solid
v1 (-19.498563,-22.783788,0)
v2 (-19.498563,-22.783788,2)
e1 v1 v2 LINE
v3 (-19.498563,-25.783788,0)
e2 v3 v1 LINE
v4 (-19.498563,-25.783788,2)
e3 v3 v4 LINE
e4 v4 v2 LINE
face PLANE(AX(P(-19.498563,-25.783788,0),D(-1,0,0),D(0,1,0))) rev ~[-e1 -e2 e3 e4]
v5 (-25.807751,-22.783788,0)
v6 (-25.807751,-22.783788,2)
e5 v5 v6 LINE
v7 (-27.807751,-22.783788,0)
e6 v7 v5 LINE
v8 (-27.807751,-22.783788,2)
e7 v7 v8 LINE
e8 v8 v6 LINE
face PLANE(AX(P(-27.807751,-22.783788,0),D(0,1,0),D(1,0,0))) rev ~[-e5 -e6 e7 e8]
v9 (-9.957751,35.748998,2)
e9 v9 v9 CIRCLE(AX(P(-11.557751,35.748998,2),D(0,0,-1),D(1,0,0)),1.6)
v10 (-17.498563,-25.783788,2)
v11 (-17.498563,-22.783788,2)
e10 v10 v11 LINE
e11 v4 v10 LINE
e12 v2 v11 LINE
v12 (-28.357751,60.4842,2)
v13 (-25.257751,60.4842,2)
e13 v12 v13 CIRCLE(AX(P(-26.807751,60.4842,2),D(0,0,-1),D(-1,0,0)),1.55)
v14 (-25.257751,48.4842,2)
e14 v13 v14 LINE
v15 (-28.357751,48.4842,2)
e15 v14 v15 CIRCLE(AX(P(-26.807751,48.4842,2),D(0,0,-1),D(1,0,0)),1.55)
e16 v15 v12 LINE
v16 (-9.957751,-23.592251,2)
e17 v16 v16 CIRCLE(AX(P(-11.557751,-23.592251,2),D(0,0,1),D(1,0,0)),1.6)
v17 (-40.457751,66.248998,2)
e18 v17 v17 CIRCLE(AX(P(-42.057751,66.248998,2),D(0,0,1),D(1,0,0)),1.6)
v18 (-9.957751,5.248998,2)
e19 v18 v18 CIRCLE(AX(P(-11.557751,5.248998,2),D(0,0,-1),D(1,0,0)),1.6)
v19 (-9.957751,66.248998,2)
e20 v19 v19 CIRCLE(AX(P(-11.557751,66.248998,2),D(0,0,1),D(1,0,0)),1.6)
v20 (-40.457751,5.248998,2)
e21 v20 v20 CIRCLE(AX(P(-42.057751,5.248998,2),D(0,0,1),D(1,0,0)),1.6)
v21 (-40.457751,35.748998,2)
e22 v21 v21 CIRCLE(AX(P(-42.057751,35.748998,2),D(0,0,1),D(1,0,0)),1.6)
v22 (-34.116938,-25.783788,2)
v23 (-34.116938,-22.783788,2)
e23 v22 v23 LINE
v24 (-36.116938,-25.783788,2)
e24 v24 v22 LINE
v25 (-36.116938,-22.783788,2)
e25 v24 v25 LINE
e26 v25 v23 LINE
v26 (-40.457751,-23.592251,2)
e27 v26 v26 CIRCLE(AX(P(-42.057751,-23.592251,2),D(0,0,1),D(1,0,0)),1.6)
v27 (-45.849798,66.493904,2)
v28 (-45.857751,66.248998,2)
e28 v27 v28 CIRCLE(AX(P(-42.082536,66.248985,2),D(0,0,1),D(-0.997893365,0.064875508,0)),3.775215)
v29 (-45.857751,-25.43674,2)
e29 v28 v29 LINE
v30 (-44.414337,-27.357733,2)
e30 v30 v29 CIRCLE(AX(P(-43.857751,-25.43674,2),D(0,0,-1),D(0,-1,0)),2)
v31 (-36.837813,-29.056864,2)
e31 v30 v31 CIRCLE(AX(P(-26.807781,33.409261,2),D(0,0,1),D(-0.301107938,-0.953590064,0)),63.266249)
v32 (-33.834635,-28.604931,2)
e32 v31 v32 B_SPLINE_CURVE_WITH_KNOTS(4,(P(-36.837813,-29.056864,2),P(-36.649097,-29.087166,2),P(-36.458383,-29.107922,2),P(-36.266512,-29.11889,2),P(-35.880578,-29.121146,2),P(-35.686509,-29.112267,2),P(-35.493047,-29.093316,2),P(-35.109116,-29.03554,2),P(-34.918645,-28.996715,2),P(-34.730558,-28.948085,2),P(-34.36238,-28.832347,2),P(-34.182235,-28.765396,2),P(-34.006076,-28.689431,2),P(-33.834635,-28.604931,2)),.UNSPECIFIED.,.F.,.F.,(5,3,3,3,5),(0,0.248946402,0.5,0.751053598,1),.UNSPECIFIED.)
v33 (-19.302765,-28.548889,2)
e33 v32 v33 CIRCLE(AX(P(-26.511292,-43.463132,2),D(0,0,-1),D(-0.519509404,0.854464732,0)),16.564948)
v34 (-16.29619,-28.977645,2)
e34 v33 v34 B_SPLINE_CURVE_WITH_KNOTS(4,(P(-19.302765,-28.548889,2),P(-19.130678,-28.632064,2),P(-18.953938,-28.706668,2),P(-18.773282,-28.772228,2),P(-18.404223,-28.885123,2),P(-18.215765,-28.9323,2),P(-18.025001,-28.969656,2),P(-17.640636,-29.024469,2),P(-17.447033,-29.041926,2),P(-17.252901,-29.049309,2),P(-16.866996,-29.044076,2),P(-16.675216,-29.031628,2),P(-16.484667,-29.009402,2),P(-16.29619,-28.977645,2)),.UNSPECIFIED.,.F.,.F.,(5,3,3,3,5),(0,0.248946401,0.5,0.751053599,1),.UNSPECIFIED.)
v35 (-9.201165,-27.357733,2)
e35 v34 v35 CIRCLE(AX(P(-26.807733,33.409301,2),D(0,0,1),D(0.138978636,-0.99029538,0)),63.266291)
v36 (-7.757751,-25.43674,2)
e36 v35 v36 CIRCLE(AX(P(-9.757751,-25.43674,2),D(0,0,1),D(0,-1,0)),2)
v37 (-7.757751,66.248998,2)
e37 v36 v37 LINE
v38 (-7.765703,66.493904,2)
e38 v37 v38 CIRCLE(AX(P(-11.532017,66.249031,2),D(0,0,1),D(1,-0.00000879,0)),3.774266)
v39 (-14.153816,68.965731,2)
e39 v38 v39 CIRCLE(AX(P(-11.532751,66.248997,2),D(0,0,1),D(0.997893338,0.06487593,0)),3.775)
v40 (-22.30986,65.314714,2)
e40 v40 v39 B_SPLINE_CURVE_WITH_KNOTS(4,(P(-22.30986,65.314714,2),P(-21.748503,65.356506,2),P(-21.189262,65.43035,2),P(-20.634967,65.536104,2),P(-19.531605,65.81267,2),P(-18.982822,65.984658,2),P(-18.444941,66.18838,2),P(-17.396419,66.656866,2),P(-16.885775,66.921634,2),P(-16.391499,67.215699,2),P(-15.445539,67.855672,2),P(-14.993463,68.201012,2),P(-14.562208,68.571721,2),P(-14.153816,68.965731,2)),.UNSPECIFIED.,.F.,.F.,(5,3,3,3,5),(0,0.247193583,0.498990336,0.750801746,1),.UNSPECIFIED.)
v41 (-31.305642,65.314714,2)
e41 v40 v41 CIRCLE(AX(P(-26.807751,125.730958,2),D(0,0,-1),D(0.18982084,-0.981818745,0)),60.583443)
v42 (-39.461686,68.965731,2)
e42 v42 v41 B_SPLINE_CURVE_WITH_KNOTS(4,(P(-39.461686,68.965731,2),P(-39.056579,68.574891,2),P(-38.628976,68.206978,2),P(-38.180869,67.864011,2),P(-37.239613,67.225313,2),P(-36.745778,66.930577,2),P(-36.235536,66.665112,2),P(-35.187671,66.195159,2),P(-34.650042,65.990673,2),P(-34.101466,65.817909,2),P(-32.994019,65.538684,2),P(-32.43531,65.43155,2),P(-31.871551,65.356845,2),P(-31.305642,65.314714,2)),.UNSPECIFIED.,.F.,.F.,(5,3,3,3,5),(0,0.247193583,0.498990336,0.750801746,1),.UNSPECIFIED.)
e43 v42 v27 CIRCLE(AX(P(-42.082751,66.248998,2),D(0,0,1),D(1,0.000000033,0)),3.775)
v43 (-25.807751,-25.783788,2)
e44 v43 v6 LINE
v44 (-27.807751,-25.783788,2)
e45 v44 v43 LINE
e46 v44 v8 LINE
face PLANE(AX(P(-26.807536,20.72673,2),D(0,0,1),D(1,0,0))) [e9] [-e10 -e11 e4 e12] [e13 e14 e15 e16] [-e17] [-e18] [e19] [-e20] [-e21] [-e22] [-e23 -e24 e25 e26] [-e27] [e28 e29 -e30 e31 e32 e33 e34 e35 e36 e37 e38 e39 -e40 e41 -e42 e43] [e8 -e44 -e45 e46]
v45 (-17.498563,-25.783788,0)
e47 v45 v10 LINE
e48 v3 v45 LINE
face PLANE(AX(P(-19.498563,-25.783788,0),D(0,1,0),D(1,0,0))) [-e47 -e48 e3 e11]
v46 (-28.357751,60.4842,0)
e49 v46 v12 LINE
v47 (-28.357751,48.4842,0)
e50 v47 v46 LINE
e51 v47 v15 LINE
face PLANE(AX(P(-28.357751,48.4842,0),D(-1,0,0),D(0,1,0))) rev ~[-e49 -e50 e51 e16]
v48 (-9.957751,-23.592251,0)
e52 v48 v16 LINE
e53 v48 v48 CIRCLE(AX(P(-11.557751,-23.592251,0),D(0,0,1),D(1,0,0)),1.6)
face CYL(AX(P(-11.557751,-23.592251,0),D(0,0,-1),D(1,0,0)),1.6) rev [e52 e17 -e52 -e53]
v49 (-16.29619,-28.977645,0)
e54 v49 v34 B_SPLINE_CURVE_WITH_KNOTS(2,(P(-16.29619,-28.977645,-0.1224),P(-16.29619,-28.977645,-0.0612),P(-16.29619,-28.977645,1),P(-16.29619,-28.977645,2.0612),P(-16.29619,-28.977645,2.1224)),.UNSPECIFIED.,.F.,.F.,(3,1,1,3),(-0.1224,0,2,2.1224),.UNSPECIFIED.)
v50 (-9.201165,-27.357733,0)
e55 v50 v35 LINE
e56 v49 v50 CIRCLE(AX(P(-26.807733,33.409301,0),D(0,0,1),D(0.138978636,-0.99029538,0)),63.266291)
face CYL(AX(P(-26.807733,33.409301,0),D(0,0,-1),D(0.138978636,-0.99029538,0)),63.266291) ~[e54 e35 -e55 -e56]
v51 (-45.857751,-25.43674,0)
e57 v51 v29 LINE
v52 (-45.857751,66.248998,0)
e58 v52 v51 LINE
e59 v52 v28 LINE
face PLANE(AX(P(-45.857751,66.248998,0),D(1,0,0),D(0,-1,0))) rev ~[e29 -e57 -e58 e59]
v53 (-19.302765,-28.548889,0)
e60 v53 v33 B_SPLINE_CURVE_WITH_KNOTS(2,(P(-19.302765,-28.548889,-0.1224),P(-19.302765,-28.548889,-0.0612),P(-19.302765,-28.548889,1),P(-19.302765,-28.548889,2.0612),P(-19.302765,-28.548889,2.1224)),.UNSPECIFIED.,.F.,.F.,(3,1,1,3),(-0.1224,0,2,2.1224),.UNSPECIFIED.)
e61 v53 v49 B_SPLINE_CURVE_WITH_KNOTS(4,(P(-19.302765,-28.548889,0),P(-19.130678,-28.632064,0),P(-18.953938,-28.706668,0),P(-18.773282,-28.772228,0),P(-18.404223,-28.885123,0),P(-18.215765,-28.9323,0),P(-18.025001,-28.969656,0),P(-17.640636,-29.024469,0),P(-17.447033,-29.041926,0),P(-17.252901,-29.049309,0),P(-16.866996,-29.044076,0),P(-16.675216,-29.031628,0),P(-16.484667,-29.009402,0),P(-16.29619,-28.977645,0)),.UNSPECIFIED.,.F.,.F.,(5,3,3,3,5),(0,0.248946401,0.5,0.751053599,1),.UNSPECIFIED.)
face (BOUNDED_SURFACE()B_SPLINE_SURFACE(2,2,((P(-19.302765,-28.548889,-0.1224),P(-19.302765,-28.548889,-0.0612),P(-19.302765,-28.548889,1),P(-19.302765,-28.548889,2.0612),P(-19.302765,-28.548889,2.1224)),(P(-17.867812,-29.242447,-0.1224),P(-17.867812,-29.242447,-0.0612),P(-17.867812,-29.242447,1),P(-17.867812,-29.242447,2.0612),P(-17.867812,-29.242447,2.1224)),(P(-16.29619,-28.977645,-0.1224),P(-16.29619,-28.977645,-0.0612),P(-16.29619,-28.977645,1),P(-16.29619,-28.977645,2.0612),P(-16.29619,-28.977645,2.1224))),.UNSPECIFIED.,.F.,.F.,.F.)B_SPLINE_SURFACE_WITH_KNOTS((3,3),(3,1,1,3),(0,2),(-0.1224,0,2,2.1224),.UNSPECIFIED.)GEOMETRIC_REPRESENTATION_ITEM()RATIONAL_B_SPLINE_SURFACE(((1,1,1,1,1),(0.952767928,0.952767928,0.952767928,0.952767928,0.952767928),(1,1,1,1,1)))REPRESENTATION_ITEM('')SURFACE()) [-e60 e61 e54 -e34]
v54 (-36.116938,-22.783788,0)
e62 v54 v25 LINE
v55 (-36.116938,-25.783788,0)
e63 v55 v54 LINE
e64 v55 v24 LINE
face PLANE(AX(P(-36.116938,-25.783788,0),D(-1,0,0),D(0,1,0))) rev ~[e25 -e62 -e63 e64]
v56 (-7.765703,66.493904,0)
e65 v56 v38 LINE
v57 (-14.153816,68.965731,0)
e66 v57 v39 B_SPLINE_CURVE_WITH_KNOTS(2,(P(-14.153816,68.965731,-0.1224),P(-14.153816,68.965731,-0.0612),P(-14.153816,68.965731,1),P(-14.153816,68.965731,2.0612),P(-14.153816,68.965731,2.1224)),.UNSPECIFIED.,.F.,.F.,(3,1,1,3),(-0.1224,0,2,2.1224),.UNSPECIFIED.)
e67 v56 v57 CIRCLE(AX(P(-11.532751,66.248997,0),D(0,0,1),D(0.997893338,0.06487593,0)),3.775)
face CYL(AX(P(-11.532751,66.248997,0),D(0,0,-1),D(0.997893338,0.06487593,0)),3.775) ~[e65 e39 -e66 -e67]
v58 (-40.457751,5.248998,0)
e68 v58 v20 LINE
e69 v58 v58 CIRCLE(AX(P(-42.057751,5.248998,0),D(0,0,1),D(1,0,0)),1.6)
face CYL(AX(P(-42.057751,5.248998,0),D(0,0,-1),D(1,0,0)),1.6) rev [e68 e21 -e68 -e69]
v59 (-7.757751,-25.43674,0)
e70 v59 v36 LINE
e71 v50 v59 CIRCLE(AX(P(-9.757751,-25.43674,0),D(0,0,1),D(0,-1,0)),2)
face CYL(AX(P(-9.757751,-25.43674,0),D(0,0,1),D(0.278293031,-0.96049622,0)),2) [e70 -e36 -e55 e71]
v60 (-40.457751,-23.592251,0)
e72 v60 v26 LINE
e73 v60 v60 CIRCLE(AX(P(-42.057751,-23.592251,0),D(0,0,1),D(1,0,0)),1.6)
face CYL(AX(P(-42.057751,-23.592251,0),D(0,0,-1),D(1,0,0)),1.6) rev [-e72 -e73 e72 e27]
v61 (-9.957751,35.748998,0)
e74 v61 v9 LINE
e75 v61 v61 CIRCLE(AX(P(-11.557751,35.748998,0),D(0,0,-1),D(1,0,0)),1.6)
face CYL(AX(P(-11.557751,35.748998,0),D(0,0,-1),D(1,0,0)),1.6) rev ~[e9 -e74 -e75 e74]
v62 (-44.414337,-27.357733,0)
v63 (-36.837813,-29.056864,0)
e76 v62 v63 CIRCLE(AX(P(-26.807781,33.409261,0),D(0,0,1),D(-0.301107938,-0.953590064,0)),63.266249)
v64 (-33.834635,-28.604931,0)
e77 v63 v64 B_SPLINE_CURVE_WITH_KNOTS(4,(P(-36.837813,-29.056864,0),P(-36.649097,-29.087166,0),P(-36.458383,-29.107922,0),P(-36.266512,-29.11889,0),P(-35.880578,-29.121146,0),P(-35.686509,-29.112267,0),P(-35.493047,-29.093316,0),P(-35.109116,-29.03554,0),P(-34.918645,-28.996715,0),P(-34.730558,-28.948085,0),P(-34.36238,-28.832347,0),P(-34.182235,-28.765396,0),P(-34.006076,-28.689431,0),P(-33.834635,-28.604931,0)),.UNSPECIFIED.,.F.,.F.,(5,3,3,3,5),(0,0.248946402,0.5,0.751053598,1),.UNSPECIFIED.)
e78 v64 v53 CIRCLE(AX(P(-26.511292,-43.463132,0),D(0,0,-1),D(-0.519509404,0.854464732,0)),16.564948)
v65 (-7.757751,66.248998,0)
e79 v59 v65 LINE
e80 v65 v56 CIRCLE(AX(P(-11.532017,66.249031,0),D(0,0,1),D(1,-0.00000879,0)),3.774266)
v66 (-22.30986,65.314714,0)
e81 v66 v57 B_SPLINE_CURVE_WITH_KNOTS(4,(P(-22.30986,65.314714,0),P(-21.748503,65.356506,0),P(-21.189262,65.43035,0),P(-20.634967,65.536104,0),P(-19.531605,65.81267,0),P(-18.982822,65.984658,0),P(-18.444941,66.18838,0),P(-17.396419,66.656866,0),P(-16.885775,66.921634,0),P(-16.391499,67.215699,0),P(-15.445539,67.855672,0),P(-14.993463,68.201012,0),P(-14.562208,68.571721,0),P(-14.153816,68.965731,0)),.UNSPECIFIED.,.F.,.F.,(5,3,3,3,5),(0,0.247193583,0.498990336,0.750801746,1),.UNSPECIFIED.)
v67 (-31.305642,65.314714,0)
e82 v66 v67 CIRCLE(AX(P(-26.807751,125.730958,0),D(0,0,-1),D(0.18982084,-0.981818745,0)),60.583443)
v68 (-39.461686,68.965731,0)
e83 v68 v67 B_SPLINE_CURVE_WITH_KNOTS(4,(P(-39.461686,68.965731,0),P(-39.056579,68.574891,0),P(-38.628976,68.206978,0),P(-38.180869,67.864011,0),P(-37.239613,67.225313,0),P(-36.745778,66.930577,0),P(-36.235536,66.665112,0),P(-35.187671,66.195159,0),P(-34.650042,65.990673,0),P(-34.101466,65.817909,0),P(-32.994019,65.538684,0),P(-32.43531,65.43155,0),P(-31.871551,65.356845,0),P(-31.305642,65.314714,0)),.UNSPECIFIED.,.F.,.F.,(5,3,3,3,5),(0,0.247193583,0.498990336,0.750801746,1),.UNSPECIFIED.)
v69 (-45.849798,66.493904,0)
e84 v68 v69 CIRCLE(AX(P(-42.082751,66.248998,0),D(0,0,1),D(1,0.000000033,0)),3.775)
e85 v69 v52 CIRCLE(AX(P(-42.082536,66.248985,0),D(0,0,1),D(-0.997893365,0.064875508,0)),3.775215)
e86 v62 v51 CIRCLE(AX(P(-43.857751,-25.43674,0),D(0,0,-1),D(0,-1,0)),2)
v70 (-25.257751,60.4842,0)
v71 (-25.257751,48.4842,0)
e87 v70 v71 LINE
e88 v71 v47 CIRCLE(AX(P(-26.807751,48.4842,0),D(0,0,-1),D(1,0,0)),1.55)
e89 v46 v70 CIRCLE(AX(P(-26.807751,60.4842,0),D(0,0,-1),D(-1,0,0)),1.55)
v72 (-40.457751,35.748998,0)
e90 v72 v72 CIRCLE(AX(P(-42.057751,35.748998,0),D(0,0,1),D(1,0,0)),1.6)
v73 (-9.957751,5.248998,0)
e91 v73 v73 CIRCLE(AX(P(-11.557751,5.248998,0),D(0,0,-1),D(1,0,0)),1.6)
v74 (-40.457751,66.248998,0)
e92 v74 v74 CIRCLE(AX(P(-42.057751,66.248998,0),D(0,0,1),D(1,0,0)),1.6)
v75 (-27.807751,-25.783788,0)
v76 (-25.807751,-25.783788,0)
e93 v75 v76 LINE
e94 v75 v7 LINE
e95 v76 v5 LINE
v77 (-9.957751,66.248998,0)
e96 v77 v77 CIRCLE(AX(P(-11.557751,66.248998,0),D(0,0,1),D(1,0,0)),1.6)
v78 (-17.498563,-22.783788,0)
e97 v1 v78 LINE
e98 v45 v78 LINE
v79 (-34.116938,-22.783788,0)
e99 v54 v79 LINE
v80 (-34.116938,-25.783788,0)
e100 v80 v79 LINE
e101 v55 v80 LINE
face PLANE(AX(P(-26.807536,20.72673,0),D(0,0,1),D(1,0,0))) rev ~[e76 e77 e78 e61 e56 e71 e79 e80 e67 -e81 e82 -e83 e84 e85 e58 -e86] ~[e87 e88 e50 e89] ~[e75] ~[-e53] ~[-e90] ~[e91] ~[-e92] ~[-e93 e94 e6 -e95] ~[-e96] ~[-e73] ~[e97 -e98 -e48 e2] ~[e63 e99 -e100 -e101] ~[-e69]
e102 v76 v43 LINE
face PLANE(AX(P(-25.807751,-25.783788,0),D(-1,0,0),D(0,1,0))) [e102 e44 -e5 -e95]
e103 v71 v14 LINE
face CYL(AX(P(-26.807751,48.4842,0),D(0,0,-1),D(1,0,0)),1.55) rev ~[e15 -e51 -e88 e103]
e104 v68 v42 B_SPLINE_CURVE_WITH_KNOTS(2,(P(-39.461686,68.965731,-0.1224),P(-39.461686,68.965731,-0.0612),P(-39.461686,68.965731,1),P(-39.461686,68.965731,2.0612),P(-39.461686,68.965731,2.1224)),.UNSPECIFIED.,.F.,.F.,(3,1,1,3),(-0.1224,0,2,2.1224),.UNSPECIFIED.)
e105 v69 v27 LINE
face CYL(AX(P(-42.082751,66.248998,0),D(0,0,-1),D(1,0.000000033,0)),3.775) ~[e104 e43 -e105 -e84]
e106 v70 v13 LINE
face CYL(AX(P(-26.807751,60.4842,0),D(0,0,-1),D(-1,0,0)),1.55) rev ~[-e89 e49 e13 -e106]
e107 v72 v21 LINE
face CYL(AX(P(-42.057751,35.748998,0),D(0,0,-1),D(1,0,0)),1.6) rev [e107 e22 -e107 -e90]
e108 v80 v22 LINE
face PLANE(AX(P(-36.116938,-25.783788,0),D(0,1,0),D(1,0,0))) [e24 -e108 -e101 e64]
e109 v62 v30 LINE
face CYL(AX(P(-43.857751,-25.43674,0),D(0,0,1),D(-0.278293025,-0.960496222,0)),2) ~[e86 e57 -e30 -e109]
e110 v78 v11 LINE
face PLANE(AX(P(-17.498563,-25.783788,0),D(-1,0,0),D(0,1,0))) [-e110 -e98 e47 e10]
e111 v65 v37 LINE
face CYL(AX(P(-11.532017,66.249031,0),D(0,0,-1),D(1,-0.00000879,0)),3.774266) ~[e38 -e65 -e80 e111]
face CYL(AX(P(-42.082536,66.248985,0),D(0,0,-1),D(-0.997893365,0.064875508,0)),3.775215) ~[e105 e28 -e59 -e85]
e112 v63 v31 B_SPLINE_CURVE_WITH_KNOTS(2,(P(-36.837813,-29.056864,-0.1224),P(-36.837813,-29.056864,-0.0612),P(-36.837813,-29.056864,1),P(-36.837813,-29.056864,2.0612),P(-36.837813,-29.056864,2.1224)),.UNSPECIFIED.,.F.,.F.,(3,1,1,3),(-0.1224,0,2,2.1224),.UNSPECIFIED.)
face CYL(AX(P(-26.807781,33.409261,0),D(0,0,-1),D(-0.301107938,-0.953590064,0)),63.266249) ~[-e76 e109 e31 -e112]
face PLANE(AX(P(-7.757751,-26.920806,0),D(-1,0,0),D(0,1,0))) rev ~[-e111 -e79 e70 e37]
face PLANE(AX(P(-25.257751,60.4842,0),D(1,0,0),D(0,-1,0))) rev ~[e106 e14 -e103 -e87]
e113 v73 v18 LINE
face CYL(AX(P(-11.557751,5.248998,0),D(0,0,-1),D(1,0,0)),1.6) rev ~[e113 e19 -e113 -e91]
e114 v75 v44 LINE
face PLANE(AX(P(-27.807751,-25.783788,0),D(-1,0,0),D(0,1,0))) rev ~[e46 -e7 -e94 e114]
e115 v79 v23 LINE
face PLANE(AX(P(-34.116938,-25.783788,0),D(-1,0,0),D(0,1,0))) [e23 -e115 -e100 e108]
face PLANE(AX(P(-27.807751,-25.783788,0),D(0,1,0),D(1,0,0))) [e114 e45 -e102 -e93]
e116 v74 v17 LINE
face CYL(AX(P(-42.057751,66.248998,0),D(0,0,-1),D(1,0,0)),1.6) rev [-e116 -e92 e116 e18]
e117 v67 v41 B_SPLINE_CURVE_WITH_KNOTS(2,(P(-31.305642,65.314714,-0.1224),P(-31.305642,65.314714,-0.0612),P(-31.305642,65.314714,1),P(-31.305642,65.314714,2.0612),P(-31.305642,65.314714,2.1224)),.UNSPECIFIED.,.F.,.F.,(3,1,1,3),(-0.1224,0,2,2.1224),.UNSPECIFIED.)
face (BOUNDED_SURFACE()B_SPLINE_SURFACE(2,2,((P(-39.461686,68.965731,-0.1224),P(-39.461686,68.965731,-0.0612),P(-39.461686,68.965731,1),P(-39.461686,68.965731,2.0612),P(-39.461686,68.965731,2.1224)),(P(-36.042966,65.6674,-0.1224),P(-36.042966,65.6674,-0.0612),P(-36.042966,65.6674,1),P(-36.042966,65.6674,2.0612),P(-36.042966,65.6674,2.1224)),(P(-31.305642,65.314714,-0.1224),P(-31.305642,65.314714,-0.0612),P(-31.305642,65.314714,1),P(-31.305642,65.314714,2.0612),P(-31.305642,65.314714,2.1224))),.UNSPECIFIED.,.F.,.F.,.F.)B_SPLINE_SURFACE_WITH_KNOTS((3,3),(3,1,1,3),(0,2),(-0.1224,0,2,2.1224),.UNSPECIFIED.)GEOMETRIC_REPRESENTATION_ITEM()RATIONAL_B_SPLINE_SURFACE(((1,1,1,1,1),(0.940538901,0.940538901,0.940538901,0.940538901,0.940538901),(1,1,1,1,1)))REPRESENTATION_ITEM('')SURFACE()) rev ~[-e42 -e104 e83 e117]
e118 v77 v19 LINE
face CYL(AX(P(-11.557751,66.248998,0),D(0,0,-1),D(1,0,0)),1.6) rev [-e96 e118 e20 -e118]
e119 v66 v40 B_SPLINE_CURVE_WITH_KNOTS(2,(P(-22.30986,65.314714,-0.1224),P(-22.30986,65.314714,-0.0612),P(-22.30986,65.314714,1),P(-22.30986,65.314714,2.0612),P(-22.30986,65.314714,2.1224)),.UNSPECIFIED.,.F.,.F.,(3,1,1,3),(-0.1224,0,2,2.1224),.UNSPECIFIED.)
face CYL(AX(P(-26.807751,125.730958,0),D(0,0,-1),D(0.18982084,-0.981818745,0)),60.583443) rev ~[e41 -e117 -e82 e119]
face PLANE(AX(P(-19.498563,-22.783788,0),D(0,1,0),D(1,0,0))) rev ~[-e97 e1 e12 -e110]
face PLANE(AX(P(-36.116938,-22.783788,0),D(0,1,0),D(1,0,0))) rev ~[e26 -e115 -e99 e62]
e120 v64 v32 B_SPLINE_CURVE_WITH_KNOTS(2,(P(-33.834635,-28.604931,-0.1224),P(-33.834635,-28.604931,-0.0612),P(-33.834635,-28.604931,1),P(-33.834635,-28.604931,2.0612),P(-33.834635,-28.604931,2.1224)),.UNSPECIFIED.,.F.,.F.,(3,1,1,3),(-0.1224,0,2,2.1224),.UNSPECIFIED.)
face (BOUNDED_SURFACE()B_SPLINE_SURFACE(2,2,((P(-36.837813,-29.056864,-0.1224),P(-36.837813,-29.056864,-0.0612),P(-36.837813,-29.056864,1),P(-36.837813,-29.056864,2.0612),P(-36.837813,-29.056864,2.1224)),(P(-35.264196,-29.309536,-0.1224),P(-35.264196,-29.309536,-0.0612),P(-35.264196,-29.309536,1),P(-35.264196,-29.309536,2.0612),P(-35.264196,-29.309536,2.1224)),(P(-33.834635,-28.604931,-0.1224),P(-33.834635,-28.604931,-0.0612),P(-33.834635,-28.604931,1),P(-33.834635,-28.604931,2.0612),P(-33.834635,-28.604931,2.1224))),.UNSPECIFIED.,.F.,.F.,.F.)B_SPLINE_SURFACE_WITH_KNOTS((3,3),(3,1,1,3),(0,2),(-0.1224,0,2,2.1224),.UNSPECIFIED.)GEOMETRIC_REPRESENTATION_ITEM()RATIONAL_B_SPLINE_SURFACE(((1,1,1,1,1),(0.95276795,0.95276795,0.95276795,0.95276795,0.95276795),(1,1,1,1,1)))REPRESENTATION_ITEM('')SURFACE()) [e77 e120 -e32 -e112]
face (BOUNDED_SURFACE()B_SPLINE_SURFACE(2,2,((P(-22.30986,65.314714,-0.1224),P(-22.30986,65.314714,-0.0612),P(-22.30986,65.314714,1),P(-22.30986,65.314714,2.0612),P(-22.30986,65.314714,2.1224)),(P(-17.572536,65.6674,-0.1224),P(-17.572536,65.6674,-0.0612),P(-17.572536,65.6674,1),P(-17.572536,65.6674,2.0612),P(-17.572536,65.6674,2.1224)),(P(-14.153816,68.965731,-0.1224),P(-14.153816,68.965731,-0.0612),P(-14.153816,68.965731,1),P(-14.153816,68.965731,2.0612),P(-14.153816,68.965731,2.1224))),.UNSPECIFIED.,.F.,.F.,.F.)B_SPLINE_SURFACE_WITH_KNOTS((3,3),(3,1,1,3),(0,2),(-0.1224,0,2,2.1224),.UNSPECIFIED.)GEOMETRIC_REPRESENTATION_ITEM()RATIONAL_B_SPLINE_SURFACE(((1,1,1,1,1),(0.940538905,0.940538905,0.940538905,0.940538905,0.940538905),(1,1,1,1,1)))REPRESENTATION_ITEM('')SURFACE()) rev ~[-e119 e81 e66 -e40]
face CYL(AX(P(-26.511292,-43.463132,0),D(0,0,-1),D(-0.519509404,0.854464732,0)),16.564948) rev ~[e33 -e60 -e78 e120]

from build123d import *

# Parameters (mm, degrees)
F0_R     = 1.6
F0_W     = 2
F0_H     = 3
F1_DEPTH = 2
F2_R     = 5
F3_R     = 2
F4_R     = 13.153232


with BuildPart() as f1:
    # F0 (on Top) → F1 (new body)
    with BuildSketch(Plane.XY):
        with Locations((-42.057751, 35.748998)):
            Circle(F0_R)
        with BuildLine():
            ThreePointArc((-13.157751, 35.748998), (-11.557751, 34.148998), (-9.957751, 35.748998))
            ThreePointArc((-9.957751, 35.748998), (-11.557751, 37.348998), (-13.157751, 35.748998))
        make_face()
        with Locations((-42.057751, 5.248998)):
            Circle(F0_R)
        with BuildLine():
            ThreePointArc((-13.157751, 5.248998), (-11.557751, 3.648998), (-9.957751, 5.248998))
            ThreePointArc((-9.957751, 5.248998), (-11.557751, 6.848998), (-13.157751, 5.248998))
        make_face()
        with BuildLine():
            ThreePointArc((-45.849798, 66.493904), (-45.855762, 66.371516), (-45.857751, 66.248998))
            Line((-45.857751, 66.248998), (-45.857751, 60.434222))
            Line((-45.857751, 60.434222), (-45.857751, 35.748998))
            Line((-45.857751, 35.748998), (-45.857751, 33.160256))
            Line((-45.857751, 33.160256), (-45.857751, 5.248998))
            Line((-45.857751, 5.248998), (-45.857751, -19.436226))
            Line((-45.857751, -19.436226), (-45.857751, -25.251002))
            Line((-45.857751, -25.251002), (-45.857751, -26.920806))
            ThreePointArc((-45.857751, -26.920806), (-40.539361, -28.348832), (-35.116938, -29.308968))
            ThreePointArc((-35.116938, -29.308968), (-26.575174, -26.898307), (-18.01507, -29.243015))
            ThreePointArc((-18.01507, -29.243015), (-12.838073, -28.295417), (-7.757751, -26.920806))
            Line((-7.757751, -26.920806), (-7.757751, -25.251002))
            Line((-7.757751, -25.251002), (-7.757751, -19.436226))
            Line((-7.757751, -19.436226), (-7.757751, 5.248998))
            Line((-7.757751, 5.248998), (-7.757751, 35.748998))
            Line((-7.757751, 35.748998), (-7.757751, 60.434222))
            Line((-7.757751, 60.434222), (-7.757751, 66.248998))
            ThreePointArc((-7.757751, 66.248998), (-7.759739, 66.371516), (-7.765703, 66.493904))
            ThreePointArc((-7.765703, 66.493904), (-11.655268, 70.022009), (-15.307751, 66.248998))
            ThreePointArc((-15.307751, 66.248998), (-26.807751, 65.147515), (-38.307751, 66.248998))
            ThreePointArc((-38.307751, 66.248998), (-41.960233, 70.022009), (-45.849798, 66.493904))
        make_face()
        with Locations((-42.057751, -23.592251)):
            Circle(F0_R, mode=Mode.SUBTRACT)
        with Locations((-35.116938, -24.283788)):
            Rectangle(F0_W, F0_H, mode=Mode.SUBTRACT)
        with Locations((-26.807751, -24.283788)):
            Rectangle(F0_W, F0_H, mode=Mode.SUBTRACT)
        with Locations((-42.057751, 5.248998)):
            Circle(F0_R, mode=Mode.SUBTRACT)
        with Locations((-18.498563, -24.283788)):
            Rectangle(F0_W, F0_H, mode=Mode.SUBTRACT)
        with Locations((-11.557751, -23.592251)):
            Circle(F0_R, mode=Mode.SUBTRACT)
        with BuildLine():
            ThreePointArc((-13.157751, 5.248998), (-11.557751, 6.848998), (-9.957751, 5.248998))
            ThreePointArc((-9.957751, 5.248998), (-11.557751, 3.648998), (-13.157751, 5.248998))
        make_face(mode=Mode.SUBTRACT)
        with Locations((-42.057751, 35.748998)):
            Circle(F0_R, mode=Mode.SUBTRACT)
        with Locations((-42.057751, 66.248998)):
            Circle(F0_R, mode=Mode.SUBTRACT)
        with BuildLine():
            ThreePointArc((-13.157751, 35.748998), (-11.557751, 37.348998), (-9.957751, 35.748998))
            ThreePointArc((-9.957751, 35.748998), (-11.557751, 34.148998), (-13.157751, 35.748998))
        make_face(mode=Mode.SUBTRACT)
        with BuildLine():
            ThreePointArc((-28.357751, 60.4842), (-26.807751, 62.0342), (-25.257751, 60.4842))
            Line((-25.257751, 60.4842), (-25.257751, 48.4842))
            ThreePointArc((-25.257751, 48.4842), (-26.807751, 46.9342), (-28.357751, 48.4842))
            Line((-28.357751, 48.4842), (-28.357751, 60.4842))
        make_face(mode=Mode.SUBTRACT)
        with Locations((-11.557751, 66.248998)):
            Circle(F0_R, mode=Mode.SUBTRACT)
    extrude(amount=F1_DEPTH)

    # F2
    f2_edges = [f1.edges().sort_by_distance(p)[0] for p in [
        (-35.116938, -29.308968, 1),
        (-18.01507, -29.243015, 1),
    ]]
    fillet(f2_edges, radius=F2_R)

    # F3
    f3_edges = [f1.edges().sort_by_distance(p)[0] for p in [
        (-7.757751, -26.920806, 1),
        (-45.857751, -26.920806, 1),
    ]]
    fillet(f3_edges, radius=F3_R)

    # F4
    f4_edges = [f1.edges().sort_by_distance(p)[0] for p in [
        (-38.307751, 66.248998, 1),
        (-15.307751, 66.248998, 1),
    ]]
    fillet(f4_edges, radius=F4_R)


solid = f1.part
